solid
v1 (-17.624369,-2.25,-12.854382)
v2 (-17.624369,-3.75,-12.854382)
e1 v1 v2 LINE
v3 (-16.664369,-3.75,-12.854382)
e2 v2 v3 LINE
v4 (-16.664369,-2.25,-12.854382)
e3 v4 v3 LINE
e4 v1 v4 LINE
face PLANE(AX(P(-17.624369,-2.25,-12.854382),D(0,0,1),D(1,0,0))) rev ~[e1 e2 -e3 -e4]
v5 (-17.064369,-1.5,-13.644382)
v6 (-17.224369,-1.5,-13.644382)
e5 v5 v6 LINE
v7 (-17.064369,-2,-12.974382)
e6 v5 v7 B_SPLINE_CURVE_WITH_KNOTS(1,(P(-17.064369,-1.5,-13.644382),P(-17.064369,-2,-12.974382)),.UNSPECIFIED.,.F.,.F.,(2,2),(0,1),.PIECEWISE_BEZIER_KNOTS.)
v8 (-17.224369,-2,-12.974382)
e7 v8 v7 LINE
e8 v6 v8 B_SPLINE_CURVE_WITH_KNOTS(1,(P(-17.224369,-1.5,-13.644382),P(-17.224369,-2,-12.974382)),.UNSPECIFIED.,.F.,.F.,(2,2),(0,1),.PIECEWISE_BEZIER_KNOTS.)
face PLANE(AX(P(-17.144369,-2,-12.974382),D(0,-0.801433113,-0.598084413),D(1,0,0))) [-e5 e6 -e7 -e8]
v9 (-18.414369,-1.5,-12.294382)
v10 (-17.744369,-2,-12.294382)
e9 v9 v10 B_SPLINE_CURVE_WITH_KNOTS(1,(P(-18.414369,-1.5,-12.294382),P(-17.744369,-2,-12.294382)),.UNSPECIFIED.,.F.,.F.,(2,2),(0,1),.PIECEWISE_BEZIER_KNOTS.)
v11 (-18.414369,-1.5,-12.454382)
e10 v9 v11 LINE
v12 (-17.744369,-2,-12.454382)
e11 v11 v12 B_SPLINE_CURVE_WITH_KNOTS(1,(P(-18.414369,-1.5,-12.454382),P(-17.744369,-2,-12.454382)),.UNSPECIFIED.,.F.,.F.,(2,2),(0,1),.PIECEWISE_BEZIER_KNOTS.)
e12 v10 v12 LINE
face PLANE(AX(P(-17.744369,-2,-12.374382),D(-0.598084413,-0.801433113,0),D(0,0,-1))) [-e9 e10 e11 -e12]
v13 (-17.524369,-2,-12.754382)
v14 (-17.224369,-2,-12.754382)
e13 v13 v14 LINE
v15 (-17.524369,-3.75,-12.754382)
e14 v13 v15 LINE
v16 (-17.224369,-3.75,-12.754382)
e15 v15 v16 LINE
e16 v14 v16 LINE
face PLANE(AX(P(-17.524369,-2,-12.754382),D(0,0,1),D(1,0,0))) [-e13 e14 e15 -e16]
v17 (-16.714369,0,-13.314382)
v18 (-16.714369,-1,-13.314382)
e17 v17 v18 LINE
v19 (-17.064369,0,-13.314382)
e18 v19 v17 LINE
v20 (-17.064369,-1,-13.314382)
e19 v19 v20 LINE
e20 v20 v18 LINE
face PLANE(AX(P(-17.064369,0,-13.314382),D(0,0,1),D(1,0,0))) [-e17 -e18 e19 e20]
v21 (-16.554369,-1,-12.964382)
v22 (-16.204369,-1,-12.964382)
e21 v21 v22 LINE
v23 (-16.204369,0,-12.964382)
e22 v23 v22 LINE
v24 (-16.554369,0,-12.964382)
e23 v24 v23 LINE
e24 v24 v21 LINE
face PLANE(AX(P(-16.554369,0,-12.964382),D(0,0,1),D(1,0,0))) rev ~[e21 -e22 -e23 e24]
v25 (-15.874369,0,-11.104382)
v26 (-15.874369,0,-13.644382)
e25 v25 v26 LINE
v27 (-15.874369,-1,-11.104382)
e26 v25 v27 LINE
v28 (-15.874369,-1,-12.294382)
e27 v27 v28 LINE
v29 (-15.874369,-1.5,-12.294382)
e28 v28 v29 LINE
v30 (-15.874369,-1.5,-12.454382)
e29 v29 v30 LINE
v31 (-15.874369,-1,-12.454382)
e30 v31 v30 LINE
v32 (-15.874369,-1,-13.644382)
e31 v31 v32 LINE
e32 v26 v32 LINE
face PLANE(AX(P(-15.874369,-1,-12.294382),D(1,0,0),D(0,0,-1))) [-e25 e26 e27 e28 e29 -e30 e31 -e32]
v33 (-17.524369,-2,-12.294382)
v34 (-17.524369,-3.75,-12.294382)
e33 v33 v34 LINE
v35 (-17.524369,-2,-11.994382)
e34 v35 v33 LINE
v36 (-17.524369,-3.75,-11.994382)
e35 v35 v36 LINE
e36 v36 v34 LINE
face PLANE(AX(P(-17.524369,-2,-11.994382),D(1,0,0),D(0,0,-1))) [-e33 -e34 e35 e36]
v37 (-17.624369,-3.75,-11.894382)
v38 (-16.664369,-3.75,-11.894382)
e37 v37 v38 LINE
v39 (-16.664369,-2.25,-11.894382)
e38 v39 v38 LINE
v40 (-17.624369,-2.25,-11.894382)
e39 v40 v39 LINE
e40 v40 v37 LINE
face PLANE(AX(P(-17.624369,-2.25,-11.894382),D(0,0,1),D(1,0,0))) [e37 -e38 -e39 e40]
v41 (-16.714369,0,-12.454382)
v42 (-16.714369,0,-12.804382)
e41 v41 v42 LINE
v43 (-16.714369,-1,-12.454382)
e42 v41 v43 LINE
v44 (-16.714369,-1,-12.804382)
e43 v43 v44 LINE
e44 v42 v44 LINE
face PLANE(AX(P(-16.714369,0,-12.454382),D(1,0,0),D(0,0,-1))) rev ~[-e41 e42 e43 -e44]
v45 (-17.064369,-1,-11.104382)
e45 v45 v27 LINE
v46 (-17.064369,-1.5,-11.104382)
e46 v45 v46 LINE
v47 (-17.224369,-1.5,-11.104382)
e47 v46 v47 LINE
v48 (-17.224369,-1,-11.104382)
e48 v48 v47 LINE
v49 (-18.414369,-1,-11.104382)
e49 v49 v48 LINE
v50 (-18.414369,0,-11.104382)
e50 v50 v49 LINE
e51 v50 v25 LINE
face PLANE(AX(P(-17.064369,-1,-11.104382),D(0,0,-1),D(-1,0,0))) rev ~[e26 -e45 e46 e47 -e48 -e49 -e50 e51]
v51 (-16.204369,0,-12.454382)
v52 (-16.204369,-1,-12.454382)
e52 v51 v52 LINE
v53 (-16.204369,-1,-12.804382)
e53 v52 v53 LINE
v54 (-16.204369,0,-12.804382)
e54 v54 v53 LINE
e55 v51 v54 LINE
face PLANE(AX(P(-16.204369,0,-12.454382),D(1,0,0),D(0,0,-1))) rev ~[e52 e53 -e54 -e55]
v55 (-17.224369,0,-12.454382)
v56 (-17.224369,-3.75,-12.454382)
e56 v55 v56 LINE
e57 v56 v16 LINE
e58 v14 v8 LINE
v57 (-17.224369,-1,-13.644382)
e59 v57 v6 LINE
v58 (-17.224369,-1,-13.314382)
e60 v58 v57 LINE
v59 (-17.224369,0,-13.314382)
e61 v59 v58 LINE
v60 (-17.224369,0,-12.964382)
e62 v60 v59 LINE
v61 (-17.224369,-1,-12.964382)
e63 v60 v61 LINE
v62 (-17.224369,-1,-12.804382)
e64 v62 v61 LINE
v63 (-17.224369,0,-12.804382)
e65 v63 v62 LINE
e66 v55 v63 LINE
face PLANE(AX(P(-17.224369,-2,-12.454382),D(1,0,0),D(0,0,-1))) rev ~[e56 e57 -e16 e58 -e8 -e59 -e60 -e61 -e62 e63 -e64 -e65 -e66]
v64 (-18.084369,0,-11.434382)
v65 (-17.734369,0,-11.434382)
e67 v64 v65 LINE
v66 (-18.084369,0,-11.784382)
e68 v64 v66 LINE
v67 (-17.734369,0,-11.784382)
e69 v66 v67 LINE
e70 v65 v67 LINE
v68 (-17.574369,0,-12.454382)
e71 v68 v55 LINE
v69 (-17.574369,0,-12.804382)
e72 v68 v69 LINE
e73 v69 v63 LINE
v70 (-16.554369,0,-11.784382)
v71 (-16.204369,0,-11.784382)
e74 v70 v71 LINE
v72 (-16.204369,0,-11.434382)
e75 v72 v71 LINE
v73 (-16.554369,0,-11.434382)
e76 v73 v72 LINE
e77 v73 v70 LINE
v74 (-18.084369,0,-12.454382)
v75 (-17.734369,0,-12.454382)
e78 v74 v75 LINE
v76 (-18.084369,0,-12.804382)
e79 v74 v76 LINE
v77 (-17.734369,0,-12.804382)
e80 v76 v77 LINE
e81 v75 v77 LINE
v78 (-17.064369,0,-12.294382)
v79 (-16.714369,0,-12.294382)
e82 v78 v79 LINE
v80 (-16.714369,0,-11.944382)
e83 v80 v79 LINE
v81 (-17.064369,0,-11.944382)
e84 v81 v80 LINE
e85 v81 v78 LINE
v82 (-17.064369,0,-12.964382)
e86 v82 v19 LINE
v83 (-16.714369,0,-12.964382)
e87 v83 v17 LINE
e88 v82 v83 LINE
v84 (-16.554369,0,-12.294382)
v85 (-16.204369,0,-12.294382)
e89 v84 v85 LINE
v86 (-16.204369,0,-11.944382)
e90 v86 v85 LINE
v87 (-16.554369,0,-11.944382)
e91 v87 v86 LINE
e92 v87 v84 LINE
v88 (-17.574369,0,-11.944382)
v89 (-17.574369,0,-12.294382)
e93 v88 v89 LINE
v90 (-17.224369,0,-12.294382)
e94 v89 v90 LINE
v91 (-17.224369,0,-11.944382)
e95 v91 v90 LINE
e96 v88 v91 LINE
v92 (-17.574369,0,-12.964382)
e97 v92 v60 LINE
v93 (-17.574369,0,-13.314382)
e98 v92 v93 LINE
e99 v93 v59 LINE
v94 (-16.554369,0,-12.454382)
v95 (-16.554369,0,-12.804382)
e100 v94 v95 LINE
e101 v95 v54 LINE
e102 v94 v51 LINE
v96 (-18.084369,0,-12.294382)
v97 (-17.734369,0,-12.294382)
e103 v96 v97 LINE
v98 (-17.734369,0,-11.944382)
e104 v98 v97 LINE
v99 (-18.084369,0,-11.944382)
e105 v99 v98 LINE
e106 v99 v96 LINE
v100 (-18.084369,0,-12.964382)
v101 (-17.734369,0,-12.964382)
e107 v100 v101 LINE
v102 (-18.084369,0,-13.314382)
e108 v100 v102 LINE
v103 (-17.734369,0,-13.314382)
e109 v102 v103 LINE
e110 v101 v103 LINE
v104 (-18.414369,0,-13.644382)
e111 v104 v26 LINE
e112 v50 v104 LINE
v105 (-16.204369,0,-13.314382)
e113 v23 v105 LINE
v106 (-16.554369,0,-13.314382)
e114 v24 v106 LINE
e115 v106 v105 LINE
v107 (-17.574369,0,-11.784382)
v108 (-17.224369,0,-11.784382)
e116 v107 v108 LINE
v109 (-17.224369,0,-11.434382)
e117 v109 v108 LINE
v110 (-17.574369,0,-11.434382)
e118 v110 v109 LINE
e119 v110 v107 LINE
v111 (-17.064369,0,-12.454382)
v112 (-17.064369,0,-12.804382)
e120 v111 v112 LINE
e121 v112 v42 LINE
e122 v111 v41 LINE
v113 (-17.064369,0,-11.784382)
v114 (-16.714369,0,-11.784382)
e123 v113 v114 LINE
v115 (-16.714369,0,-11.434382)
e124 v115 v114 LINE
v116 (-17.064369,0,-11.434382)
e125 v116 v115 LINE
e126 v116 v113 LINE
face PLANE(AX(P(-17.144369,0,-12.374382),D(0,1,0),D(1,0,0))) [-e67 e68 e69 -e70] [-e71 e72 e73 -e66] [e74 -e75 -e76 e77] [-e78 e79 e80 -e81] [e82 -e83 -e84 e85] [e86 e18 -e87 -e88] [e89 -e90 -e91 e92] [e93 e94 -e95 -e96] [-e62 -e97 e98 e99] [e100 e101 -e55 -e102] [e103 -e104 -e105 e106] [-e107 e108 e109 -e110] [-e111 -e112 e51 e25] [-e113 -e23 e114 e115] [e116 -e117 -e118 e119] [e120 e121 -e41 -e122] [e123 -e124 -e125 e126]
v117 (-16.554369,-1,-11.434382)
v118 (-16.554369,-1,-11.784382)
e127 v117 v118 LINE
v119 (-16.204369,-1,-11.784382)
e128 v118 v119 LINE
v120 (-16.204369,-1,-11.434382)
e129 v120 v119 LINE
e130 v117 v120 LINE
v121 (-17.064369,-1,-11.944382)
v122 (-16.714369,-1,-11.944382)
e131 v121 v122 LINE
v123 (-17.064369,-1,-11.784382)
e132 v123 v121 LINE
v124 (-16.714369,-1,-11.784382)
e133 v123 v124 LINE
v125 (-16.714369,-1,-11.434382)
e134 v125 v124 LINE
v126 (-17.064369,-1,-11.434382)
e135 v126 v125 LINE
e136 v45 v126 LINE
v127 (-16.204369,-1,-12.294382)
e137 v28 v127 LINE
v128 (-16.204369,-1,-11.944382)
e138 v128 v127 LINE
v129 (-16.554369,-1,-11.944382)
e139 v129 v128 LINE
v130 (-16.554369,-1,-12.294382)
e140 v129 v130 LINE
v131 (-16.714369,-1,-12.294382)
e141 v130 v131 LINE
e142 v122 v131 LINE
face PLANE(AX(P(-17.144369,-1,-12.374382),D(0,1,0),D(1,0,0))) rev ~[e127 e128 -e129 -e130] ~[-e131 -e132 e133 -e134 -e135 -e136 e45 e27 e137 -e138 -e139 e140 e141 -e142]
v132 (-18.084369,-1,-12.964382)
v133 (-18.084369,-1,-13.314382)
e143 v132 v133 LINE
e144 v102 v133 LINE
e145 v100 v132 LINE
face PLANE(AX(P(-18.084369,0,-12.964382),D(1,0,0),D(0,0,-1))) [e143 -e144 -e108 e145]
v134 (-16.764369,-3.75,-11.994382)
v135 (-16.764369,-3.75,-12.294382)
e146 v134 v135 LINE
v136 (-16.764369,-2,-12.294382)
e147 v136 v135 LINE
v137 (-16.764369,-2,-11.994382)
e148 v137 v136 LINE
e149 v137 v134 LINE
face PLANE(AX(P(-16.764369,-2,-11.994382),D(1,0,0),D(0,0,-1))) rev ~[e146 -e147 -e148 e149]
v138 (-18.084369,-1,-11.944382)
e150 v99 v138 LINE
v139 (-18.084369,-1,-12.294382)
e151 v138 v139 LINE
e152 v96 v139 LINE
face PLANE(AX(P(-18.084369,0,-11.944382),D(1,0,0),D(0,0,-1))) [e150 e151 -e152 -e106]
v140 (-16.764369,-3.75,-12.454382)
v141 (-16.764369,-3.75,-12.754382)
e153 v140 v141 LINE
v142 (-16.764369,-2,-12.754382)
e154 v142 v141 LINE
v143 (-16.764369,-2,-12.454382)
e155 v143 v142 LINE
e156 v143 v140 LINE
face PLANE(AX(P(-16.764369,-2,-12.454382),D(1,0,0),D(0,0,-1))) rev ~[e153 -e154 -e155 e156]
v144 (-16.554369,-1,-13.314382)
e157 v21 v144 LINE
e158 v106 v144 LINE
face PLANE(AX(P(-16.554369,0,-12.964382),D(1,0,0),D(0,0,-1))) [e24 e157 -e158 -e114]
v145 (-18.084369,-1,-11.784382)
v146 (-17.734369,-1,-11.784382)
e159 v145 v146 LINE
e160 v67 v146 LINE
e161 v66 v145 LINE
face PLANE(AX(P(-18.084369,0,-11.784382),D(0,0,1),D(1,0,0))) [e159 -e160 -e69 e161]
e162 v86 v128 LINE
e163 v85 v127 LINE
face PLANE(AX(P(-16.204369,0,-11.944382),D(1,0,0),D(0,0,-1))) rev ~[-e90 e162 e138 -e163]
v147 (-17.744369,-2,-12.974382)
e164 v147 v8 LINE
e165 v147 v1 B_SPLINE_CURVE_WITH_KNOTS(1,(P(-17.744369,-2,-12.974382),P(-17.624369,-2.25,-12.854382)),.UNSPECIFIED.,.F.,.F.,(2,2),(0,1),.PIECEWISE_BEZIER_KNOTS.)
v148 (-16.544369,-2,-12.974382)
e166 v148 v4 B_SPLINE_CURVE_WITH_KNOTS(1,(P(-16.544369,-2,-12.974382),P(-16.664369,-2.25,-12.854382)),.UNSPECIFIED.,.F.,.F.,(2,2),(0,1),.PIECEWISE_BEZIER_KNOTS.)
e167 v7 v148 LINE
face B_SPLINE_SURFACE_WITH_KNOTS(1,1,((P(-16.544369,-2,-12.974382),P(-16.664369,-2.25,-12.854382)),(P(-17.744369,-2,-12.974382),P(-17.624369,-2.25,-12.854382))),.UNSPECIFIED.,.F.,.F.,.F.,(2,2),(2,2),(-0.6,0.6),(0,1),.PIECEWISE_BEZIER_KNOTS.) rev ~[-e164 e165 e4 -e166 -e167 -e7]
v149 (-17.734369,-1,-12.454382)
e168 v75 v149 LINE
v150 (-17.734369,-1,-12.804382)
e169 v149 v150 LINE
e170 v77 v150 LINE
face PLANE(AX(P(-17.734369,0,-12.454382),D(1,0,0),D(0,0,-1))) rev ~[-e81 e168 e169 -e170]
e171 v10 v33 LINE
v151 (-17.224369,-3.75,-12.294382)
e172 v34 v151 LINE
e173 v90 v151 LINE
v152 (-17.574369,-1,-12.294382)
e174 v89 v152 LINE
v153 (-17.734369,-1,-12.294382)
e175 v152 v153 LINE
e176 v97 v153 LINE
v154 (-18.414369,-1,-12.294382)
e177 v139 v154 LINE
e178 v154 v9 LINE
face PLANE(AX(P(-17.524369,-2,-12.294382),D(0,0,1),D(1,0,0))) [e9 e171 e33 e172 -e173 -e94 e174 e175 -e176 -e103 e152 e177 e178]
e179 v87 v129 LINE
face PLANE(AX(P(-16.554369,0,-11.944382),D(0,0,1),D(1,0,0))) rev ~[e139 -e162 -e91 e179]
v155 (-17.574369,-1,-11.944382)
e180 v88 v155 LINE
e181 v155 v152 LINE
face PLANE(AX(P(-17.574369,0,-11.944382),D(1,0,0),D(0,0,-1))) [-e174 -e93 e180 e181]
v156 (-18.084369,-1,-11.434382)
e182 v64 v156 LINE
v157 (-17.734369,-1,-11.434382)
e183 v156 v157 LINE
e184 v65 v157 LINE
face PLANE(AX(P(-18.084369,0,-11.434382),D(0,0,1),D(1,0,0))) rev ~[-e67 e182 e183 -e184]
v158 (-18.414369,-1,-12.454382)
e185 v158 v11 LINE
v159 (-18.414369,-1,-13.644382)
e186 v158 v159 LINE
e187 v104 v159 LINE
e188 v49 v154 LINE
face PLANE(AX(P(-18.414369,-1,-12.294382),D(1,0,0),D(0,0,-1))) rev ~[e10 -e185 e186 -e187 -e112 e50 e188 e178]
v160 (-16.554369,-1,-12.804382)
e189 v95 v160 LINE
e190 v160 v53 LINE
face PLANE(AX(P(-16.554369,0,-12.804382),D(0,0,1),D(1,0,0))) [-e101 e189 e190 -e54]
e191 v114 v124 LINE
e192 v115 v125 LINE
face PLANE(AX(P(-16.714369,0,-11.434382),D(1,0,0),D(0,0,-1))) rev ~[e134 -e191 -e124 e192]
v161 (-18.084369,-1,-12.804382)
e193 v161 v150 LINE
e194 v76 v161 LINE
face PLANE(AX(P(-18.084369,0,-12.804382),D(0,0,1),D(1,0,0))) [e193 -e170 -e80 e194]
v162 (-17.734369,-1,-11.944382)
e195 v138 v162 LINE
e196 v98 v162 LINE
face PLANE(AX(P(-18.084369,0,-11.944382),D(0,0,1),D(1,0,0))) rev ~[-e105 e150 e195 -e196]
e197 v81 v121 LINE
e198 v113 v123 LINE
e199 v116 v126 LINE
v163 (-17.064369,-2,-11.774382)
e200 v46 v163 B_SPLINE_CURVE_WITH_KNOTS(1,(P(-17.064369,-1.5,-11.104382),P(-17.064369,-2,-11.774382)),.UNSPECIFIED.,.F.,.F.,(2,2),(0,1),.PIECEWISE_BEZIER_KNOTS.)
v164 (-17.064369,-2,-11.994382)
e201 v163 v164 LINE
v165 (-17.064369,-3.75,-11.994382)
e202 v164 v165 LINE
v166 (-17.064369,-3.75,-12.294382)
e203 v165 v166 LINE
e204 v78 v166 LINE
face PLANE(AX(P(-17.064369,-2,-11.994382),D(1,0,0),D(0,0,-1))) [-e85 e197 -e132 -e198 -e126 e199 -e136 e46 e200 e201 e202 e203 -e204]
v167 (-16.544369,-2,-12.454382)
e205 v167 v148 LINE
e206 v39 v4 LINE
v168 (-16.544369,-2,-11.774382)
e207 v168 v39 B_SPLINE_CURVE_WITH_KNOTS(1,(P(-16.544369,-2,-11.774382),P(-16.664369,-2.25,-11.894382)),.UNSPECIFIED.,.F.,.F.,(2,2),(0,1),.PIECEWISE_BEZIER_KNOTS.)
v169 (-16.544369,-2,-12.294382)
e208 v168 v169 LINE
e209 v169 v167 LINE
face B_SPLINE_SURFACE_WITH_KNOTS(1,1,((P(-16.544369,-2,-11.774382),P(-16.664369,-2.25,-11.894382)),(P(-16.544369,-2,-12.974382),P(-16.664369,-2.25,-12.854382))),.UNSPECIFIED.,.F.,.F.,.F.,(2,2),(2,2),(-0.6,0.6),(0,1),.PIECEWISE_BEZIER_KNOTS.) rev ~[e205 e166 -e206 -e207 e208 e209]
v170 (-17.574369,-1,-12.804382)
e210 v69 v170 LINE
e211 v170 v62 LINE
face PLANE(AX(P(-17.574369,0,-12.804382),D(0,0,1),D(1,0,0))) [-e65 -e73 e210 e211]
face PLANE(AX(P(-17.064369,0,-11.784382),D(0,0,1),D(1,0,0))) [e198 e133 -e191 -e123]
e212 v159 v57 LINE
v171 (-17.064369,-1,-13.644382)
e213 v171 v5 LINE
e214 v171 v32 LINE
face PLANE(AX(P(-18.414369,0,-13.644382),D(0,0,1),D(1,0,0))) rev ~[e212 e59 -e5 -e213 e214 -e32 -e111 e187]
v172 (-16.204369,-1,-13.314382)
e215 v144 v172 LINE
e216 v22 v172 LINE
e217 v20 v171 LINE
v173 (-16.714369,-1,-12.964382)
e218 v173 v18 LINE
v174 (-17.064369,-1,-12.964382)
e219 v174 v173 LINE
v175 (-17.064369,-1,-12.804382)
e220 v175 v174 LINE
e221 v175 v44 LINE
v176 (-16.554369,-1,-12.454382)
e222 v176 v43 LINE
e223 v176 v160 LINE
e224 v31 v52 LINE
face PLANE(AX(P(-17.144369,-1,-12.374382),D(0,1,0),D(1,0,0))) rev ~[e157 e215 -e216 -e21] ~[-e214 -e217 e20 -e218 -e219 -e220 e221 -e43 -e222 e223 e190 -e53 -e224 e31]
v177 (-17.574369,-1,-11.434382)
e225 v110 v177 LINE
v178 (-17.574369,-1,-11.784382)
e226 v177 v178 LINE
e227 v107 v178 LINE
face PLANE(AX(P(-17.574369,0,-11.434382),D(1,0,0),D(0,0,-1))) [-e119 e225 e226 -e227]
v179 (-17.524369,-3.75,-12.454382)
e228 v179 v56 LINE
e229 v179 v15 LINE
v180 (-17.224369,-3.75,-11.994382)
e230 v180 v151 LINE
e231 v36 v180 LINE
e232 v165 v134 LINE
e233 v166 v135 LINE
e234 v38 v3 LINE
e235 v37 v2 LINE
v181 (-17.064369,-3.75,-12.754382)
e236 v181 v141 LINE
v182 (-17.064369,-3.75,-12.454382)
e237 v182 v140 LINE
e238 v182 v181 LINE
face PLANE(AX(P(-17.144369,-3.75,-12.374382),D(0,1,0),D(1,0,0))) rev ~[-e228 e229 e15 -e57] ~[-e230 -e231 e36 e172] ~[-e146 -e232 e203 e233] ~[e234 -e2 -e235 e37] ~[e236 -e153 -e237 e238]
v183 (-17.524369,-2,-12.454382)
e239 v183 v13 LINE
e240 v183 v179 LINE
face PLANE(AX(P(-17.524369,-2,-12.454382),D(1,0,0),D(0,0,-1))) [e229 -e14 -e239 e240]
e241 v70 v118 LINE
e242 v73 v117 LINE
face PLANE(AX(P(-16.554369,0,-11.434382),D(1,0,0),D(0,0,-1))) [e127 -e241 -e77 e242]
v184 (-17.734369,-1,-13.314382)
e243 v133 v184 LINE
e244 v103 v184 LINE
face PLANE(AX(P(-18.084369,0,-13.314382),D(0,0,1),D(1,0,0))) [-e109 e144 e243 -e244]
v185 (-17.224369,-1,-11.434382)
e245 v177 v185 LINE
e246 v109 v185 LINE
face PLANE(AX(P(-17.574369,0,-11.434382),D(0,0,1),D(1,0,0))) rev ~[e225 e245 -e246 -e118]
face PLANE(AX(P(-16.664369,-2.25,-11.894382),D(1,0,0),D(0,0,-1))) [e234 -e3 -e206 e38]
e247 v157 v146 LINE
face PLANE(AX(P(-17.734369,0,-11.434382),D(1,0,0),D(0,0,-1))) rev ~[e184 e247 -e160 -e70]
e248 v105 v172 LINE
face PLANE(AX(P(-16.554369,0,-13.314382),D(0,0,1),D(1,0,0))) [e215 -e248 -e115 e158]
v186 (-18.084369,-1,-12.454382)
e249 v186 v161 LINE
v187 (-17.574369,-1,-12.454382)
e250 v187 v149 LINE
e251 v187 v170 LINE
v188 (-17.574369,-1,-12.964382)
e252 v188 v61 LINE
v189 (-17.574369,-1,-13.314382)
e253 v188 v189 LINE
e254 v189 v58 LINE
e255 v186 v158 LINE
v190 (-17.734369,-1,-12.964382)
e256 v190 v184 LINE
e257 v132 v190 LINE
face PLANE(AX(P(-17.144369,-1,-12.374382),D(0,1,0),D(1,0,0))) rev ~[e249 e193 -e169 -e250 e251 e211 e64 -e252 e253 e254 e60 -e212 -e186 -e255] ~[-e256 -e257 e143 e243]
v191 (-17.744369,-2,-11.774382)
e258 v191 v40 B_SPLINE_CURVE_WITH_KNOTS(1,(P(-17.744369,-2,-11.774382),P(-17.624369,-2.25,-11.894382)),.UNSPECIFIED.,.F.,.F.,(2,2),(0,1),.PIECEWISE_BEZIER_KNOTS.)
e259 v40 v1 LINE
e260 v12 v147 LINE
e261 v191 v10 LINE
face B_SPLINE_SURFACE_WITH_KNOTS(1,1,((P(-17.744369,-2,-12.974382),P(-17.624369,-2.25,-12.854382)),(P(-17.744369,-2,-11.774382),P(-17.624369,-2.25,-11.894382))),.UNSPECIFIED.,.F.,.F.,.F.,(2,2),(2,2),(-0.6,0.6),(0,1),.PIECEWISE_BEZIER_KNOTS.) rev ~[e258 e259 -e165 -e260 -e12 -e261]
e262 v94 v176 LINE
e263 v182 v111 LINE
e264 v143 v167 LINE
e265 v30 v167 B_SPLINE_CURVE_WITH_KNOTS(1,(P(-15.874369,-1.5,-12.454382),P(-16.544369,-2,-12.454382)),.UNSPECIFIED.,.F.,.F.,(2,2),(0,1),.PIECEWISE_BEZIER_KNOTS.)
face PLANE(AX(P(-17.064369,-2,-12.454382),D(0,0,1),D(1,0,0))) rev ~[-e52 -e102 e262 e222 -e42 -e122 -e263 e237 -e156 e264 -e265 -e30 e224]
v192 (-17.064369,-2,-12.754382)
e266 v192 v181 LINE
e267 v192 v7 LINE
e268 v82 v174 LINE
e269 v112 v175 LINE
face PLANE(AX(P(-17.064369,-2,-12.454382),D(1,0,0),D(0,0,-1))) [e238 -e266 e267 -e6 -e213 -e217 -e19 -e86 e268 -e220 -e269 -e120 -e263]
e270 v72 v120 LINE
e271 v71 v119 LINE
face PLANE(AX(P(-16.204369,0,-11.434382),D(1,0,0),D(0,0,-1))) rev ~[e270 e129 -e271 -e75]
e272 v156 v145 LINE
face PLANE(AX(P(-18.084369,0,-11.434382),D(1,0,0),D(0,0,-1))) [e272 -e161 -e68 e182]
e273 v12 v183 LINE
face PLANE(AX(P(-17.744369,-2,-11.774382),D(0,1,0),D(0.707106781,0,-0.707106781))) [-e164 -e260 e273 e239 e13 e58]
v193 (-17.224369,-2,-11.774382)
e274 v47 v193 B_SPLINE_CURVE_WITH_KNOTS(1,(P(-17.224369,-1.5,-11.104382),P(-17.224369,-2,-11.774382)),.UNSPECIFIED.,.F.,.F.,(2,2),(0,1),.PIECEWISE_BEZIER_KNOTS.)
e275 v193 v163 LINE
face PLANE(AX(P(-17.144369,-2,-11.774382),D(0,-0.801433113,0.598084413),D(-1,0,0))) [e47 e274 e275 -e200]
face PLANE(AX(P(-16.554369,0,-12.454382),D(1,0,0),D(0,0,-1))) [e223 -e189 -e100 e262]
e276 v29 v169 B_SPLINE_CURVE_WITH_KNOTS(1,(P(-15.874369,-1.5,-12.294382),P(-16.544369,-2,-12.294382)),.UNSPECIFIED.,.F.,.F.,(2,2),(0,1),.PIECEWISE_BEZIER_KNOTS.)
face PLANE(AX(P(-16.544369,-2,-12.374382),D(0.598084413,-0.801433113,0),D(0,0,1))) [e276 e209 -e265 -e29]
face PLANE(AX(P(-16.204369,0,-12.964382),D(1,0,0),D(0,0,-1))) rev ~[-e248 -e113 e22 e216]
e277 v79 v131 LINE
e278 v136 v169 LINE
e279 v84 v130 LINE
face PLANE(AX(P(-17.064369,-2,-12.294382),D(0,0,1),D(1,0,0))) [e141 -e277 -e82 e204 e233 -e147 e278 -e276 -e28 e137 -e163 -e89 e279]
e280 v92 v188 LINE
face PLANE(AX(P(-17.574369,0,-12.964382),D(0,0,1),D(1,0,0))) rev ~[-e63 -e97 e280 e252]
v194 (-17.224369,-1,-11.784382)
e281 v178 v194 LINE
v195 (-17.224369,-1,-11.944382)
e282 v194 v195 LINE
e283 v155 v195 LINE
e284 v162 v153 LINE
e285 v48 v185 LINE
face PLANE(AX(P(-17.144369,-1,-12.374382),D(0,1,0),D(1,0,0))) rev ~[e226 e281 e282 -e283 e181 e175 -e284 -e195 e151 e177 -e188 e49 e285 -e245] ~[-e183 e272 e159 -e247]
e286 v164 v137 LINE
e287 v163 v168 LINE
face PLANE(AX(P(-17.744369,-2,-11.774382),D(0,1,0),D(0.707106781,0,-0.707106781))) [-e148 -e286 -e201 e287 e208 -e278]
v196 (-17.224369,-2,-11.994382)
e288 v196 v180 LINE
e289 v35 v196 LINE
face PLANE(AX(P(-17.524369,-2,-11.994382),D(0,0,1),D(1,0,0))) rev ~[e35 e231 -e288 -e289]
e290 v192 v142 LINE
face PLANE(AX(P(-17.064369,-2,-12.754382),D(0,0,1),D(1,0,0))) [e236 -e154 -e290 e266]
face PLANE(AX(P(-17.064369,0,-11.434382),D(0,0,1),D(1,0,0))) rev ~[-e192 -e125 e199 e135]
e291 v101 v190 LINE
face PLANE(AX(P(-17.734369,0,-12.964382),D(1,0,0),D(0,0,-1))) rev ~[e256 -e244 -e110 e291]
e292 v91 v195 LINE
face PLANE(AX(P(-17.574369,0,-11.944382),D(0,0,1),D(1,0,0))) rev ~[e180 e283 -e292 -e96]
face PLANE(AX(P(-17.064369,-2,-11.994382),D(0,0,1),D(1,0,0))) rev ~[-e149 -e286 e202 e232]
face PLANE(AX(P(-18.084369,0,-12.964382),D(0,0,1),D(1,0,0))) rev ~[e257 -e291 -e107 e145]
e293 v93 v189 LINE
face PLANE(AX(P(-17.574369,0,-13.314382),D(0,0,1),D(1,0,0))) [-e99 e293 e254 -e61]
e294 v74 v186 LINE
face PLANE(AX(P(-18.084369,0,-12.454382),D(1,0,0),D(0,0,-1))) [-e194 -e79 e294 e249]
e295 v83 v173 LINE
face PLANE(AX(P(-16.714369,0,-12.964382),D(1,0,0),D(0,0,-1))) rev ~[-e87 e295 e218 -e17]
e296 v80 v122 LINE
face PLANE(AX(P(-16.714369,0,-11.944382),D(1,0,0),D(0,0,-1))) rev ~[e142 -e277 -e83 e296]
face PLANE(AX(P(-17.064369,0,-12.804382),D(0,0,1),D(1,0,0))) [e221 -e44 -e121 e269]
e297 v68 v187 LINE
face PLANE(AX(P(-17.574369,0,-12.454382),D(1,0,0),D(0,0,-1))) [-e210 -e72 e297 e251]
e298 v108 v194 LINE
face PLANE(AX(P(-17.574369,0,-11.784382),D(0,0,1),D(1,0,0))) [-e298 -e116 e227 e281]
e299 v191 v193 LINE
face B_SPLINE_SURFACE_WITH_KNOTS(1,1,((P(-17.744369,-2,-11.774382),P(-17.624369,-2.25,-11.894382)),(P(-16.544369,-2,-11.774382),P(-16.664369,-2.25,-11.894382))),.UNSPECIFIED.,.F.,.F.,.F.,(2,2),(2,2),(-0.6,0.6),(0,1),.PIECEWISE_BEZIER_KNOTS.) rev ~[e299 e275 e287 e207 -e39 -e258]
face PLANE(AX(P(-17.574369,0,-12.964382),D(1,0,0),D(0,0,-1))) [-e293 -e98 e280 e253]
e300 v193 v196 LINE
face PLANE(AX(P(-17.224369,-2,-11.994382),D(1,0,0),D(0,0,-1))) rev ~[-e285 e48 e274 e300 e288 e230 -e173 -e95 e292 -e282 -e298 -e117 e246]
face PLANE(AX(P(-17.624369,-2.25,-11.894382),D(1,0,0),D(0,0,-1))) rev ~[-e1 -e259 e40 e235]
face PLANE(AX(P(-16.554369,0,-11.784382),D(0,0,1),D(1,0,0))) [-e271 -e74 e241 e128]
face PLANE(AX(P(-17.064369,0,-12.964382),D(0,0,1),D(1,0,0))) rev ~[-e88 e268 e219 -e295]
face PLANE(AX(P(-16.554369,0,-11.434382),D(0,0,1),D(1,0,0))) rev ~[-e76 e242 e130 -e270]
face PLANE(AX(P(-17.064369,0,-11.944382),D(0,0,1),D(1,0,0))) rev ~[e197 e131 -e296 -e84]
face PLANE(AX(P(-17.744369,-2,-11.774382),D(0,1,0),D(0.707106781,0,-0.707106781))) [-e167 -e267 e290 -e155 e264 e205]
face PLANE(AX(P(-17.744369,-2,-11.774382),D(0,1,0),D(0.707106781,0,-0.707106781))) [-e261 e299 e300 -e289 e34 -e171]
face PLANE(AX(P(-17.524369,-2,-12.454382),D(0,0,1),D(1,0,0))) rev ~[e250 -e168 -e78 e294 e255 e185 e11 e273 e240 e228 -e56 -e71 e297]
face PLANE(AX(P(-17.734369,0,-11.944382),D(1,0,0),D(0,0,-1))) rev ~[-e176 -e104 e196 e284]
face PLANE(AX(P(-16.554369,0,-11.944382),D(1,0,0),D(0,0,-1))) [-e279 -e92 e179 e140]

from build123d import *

# Parameters (mm, degrees)
TOP_PANEL_W            = 2.54
TOP_PANEL_H            = 2.54
BOSS_EXTRUDE1_DEPTH    = 1
WELL_HOLES_W           = 0.35
WELL_HOLES_H           = 0.35
WELLS_DEPTH            = 1
SKETCH5_W              = 2.54
SKETCH5_H              = 0.16
BOSS_EXTRUDE5_DEPTH    = 0.5
SKETCH4_W              = 1.2
SKETCH4_H              = 0.16
SUPPORT_WALL_SKETCH_W  = 0.16
SUPPORT_WALL_SKETCH_H  = 2.54
BOSS_EXTRUDE7_DEPTH    = 0.5
SKETCH7_W              = 0.16
SKETCH7_H              = 0.52
SKETCH7_3_W            = 0.16
SKETCH7_3_H            = 0.52
SKETCH8_W              = 1.2
SKETCH8_H              = 1.2
SKETCH9_W              = 0.96
SKETCH9_H              = 0.96
SKETCH9_2_W            = 0.96
SKETCH9_2_H            = 0.96
BOSS_EXTRUDE8_DEPTH    = 1.5
TETRODE_ENTRY_HOLDES_W = 0.3
TETRODE_ENTRY_HOLDES_H = 0.3
CUT_EXTRUDE1_DEPTH     = 1.75


with BuildPart() as part:
    # top_panel → Boss-Extrude1 (new body)
    with BuildSketch(Plane(origin=(0, 0, 0), x_dir=(1, 0, 0), z_dir=(0, 1, 0))):
        with Locations((-17.144369017, 12.374381862)):
            Rectangle(TOP_PANEL_W, TOP_PANEL_H)
    extrude(amount=-BOSS_EXTRUDE1_DEPTH)

    # well_holes → wells (cut)
    with BuildSketch(Plane(origin=(0, 0, 0), x_dir=(1, 0, 0), z_dir=(0, 1, 0))):
        with Locations((-17.399369017, 13.139381862)):
            Rectangle(WELL_HOLES_W, WELL_HOLES_H)
        with Locations((-17.909369017, 13.139381862)):
            Rectangle(WELL_HOLES_W, WELL_HOLES_H)
        with Locations((-16.889369017, 13.139381862)):
            Rectangle(WELL_HOLES_W, WELL_HOLES_H)
        with Locations((-16.379369017, 13.139381862)):
            Rectangle(WELL_HOLES_W, WELL_HOLES_H)
        with Locations((-17.399369017, 12.629381862)):
            Rectangle(WELL_HOLES_W, WELL_HOLES_H)
        with Locations((-16.889369017, 12.629381862)):
            Rectangle(WELL_HOLES_W, WELL_HOLES_H)
        with Locations((-16.379369017, 12.629381862)):
            Rectangle(WELL_HOLES_W, WELL_HOLES_H)
        with Locations((-17.399369017, 12.119381862)):
            Rectangle(WELL_HOLES_W, WELL_HOLES_H)
        with Locations((-16.889369017, 12.119381862)):
            Rectangle(WELL_HOLES_W, WELL_HOLES_H)
        with Locations((-16.379369017, 12.119381862)):
            Rectangle(WELL_HOLES_W, WELL_HOLES_H)
        with Locations((-17.399369017, 11.609381862)):
            Rectangle(WELL_HOLES_W, WELL_HOLES_H)
        with Locations((-16.889369017, 11.609381862)):
            Rectangle(WELL_HOLES_W, WELL_HOLES_H)
        with Locations((-16.379369017, 11.609381862)):
            Rectangle(WELL_HOLES_W, WELL_HOLES_H)
        with Locations((-17.909369017, 12.629381862)):
            Rectangle(WELL_HOLES_W, WELL_HOLES_H)
        with Locations((-17.909369017, 12.119381862)):
            Rectangle(WELL_HOLES_W, WELL_HOLES_H)
        with Locations((-17.909369017, 11.609381862)):
            Rectangle(WELL_HOLES_W, WELL_HOLES_H)
    extrude(amount=-WELLS_DEPTH, mode=Mode.SUBTRACT)

    # Sketch5 → Boss-Extrude5 (add)
    with BuildSketch(Plane(origin=(0, -1, 0), x_dir=(-1, 0, 0), z_dir=(0, -1, 0))):
        with Locations((17.144369017, 12.374381862)):
            Rectangle(SKETCH5_W, SKETCH5_H)
    extrude(amount=BOSS_EXTRUDE5_DEPTH)

    # Sketch4 → section 1 of loft3
    with BuildSketch(Plane(origin=(0, -2, 0), x_dir=(1, 0, 0), z_dir=(0, 1, 0)), mode=Mode.PRIVATE) as loft3_s1:
        with Locations((-17.144369017, 12.374381862)):
            Rectangle(SKETCH4_W, SKETCH4_H)
    # loft from a face of the part (loft3)
    loft([part.faces().sort_by_distance((-17.144369017, -1.5, -12.374381862))[0], loft3_s1.sketch])

    # support_wall_sketch → Boss-Extrude7 (add)
    with BuildSketch(Plane(origin=(0, -1, 0), x_dir=(-1, 0, 0), z_dir=(0, -1, 0))):
        with Locations((17.144369017, 12.374381862)):
            Rectangle(SUPPORT_WALL_SKETCH_W, SUPPORT_WALL_SKETCH_H)
    extrude(amount=BOSS_EXTRUDE7_DEPTH)

    # Sketch7 → section 1 of loft6
    with BuildSketch(Plane(origin=(0, -2, 0), x_dir=(1, 0, 0), z_dir=(0, 1, 0)), mode=Mode.PRIVATE) as loft6_s1:
        with Locations((-17.144369017, 12.034381862)):
            Rectangle(SKETCH7_W, SKETCH7_H)
    # loft from a face of the part (loft6)
    loft([part.faces().sort_by_distance((-17.144369017, -1.5, -11.699381862))[0], loft6_s1.sketch])

    # Sketch7<3> → section 1 of loft7
    with BuildSketch(Plane(origin=(0, -2, 0), x_dir=(1, 0, 0), z_dir=(0, 1, 0)), mode=Mode.PRIVATE) as loft7_s1:
        with Locations((-17.144369017, 12.714381862)):
            Rectangle(SKETCH7_3_W, SKETCH7_3_H)
    # loft from a face of the part (loft7)
    loft([part.faces().sort_by_distance((-17.144369017, -1.5, -13.049381862))[0], loft7_s1.sketch])

    # Sketch8 → Loft8 section 0
    with BuildSketch(Plane(origin=(0, -2, 0), x_dir=(1, 0, 0), z_dir=(0, 1, 0))):
        with Locations((-17.144369017, 12.374381862)):
            Rectangle(SKETCH8_W, SKETCH8_H)
    # Sketch9 → Loft8 section 1
    with BuildSketch(Plane(origin=(0, -2.25, 0), x_dir=(1, 0, 0), z_dir=(0, 1, 0))):
        with Locations((-17.144369017, 12.374381862)):
            Rectangle(SKETCH9_W, SKETCH9_H)
    loft()

    # Sketch9<2> → Boss-Extrude8 (add)
    with BuildSketch(Plane(origin=(0, -2.25, 0), x_dir=(1, 0, 0), z_dir=(0, 1, 0))):
        with Locations((-17.144369017, 12.374381862)):
            Rectangle(SKETCH9_2_W, SKETCH9_2_H)
    extrude(amount=-BOSS_EXTRUDE8_DEPTH)

    # tetrode_entry_holdes → Cut-Extrude1 (cut)
    with BuildSketch(Plane(origin=(0, -2, 0), x_dir=(1, 0, 0), z_dir=(0, 1, 0))):
        with Locations((-17.374369017, 12.144381862)):
            Rectangle(TETRODE_ENTRY_HOLDES_W, TETRODE_ENTRY_HOLDES_H)
        with Locations((-16.914369017, 12.144381862)):
            Rectangle(TETRODE_ENTRY_HOLDES_W, TETRODE_ENTRY_HOLDES_H)
        with Locations((-16.914369017, 12.604381862)):
            Rectangle(TETRODE_ENTRY_HOLDES_W, TETRODE_ENTRY_HOLDES_H)
        with Locations((-17.374369017, 12.604381862)):
            Rectangle(TETRODE_ENTRY_HOLDES_W, TETRODE_ENTRY_HOLDES_H)
    extrude(amount=-CUT_EXTRUDE1_DEPTH, mode=Mode.SUBTRACT)


solid = part.part
